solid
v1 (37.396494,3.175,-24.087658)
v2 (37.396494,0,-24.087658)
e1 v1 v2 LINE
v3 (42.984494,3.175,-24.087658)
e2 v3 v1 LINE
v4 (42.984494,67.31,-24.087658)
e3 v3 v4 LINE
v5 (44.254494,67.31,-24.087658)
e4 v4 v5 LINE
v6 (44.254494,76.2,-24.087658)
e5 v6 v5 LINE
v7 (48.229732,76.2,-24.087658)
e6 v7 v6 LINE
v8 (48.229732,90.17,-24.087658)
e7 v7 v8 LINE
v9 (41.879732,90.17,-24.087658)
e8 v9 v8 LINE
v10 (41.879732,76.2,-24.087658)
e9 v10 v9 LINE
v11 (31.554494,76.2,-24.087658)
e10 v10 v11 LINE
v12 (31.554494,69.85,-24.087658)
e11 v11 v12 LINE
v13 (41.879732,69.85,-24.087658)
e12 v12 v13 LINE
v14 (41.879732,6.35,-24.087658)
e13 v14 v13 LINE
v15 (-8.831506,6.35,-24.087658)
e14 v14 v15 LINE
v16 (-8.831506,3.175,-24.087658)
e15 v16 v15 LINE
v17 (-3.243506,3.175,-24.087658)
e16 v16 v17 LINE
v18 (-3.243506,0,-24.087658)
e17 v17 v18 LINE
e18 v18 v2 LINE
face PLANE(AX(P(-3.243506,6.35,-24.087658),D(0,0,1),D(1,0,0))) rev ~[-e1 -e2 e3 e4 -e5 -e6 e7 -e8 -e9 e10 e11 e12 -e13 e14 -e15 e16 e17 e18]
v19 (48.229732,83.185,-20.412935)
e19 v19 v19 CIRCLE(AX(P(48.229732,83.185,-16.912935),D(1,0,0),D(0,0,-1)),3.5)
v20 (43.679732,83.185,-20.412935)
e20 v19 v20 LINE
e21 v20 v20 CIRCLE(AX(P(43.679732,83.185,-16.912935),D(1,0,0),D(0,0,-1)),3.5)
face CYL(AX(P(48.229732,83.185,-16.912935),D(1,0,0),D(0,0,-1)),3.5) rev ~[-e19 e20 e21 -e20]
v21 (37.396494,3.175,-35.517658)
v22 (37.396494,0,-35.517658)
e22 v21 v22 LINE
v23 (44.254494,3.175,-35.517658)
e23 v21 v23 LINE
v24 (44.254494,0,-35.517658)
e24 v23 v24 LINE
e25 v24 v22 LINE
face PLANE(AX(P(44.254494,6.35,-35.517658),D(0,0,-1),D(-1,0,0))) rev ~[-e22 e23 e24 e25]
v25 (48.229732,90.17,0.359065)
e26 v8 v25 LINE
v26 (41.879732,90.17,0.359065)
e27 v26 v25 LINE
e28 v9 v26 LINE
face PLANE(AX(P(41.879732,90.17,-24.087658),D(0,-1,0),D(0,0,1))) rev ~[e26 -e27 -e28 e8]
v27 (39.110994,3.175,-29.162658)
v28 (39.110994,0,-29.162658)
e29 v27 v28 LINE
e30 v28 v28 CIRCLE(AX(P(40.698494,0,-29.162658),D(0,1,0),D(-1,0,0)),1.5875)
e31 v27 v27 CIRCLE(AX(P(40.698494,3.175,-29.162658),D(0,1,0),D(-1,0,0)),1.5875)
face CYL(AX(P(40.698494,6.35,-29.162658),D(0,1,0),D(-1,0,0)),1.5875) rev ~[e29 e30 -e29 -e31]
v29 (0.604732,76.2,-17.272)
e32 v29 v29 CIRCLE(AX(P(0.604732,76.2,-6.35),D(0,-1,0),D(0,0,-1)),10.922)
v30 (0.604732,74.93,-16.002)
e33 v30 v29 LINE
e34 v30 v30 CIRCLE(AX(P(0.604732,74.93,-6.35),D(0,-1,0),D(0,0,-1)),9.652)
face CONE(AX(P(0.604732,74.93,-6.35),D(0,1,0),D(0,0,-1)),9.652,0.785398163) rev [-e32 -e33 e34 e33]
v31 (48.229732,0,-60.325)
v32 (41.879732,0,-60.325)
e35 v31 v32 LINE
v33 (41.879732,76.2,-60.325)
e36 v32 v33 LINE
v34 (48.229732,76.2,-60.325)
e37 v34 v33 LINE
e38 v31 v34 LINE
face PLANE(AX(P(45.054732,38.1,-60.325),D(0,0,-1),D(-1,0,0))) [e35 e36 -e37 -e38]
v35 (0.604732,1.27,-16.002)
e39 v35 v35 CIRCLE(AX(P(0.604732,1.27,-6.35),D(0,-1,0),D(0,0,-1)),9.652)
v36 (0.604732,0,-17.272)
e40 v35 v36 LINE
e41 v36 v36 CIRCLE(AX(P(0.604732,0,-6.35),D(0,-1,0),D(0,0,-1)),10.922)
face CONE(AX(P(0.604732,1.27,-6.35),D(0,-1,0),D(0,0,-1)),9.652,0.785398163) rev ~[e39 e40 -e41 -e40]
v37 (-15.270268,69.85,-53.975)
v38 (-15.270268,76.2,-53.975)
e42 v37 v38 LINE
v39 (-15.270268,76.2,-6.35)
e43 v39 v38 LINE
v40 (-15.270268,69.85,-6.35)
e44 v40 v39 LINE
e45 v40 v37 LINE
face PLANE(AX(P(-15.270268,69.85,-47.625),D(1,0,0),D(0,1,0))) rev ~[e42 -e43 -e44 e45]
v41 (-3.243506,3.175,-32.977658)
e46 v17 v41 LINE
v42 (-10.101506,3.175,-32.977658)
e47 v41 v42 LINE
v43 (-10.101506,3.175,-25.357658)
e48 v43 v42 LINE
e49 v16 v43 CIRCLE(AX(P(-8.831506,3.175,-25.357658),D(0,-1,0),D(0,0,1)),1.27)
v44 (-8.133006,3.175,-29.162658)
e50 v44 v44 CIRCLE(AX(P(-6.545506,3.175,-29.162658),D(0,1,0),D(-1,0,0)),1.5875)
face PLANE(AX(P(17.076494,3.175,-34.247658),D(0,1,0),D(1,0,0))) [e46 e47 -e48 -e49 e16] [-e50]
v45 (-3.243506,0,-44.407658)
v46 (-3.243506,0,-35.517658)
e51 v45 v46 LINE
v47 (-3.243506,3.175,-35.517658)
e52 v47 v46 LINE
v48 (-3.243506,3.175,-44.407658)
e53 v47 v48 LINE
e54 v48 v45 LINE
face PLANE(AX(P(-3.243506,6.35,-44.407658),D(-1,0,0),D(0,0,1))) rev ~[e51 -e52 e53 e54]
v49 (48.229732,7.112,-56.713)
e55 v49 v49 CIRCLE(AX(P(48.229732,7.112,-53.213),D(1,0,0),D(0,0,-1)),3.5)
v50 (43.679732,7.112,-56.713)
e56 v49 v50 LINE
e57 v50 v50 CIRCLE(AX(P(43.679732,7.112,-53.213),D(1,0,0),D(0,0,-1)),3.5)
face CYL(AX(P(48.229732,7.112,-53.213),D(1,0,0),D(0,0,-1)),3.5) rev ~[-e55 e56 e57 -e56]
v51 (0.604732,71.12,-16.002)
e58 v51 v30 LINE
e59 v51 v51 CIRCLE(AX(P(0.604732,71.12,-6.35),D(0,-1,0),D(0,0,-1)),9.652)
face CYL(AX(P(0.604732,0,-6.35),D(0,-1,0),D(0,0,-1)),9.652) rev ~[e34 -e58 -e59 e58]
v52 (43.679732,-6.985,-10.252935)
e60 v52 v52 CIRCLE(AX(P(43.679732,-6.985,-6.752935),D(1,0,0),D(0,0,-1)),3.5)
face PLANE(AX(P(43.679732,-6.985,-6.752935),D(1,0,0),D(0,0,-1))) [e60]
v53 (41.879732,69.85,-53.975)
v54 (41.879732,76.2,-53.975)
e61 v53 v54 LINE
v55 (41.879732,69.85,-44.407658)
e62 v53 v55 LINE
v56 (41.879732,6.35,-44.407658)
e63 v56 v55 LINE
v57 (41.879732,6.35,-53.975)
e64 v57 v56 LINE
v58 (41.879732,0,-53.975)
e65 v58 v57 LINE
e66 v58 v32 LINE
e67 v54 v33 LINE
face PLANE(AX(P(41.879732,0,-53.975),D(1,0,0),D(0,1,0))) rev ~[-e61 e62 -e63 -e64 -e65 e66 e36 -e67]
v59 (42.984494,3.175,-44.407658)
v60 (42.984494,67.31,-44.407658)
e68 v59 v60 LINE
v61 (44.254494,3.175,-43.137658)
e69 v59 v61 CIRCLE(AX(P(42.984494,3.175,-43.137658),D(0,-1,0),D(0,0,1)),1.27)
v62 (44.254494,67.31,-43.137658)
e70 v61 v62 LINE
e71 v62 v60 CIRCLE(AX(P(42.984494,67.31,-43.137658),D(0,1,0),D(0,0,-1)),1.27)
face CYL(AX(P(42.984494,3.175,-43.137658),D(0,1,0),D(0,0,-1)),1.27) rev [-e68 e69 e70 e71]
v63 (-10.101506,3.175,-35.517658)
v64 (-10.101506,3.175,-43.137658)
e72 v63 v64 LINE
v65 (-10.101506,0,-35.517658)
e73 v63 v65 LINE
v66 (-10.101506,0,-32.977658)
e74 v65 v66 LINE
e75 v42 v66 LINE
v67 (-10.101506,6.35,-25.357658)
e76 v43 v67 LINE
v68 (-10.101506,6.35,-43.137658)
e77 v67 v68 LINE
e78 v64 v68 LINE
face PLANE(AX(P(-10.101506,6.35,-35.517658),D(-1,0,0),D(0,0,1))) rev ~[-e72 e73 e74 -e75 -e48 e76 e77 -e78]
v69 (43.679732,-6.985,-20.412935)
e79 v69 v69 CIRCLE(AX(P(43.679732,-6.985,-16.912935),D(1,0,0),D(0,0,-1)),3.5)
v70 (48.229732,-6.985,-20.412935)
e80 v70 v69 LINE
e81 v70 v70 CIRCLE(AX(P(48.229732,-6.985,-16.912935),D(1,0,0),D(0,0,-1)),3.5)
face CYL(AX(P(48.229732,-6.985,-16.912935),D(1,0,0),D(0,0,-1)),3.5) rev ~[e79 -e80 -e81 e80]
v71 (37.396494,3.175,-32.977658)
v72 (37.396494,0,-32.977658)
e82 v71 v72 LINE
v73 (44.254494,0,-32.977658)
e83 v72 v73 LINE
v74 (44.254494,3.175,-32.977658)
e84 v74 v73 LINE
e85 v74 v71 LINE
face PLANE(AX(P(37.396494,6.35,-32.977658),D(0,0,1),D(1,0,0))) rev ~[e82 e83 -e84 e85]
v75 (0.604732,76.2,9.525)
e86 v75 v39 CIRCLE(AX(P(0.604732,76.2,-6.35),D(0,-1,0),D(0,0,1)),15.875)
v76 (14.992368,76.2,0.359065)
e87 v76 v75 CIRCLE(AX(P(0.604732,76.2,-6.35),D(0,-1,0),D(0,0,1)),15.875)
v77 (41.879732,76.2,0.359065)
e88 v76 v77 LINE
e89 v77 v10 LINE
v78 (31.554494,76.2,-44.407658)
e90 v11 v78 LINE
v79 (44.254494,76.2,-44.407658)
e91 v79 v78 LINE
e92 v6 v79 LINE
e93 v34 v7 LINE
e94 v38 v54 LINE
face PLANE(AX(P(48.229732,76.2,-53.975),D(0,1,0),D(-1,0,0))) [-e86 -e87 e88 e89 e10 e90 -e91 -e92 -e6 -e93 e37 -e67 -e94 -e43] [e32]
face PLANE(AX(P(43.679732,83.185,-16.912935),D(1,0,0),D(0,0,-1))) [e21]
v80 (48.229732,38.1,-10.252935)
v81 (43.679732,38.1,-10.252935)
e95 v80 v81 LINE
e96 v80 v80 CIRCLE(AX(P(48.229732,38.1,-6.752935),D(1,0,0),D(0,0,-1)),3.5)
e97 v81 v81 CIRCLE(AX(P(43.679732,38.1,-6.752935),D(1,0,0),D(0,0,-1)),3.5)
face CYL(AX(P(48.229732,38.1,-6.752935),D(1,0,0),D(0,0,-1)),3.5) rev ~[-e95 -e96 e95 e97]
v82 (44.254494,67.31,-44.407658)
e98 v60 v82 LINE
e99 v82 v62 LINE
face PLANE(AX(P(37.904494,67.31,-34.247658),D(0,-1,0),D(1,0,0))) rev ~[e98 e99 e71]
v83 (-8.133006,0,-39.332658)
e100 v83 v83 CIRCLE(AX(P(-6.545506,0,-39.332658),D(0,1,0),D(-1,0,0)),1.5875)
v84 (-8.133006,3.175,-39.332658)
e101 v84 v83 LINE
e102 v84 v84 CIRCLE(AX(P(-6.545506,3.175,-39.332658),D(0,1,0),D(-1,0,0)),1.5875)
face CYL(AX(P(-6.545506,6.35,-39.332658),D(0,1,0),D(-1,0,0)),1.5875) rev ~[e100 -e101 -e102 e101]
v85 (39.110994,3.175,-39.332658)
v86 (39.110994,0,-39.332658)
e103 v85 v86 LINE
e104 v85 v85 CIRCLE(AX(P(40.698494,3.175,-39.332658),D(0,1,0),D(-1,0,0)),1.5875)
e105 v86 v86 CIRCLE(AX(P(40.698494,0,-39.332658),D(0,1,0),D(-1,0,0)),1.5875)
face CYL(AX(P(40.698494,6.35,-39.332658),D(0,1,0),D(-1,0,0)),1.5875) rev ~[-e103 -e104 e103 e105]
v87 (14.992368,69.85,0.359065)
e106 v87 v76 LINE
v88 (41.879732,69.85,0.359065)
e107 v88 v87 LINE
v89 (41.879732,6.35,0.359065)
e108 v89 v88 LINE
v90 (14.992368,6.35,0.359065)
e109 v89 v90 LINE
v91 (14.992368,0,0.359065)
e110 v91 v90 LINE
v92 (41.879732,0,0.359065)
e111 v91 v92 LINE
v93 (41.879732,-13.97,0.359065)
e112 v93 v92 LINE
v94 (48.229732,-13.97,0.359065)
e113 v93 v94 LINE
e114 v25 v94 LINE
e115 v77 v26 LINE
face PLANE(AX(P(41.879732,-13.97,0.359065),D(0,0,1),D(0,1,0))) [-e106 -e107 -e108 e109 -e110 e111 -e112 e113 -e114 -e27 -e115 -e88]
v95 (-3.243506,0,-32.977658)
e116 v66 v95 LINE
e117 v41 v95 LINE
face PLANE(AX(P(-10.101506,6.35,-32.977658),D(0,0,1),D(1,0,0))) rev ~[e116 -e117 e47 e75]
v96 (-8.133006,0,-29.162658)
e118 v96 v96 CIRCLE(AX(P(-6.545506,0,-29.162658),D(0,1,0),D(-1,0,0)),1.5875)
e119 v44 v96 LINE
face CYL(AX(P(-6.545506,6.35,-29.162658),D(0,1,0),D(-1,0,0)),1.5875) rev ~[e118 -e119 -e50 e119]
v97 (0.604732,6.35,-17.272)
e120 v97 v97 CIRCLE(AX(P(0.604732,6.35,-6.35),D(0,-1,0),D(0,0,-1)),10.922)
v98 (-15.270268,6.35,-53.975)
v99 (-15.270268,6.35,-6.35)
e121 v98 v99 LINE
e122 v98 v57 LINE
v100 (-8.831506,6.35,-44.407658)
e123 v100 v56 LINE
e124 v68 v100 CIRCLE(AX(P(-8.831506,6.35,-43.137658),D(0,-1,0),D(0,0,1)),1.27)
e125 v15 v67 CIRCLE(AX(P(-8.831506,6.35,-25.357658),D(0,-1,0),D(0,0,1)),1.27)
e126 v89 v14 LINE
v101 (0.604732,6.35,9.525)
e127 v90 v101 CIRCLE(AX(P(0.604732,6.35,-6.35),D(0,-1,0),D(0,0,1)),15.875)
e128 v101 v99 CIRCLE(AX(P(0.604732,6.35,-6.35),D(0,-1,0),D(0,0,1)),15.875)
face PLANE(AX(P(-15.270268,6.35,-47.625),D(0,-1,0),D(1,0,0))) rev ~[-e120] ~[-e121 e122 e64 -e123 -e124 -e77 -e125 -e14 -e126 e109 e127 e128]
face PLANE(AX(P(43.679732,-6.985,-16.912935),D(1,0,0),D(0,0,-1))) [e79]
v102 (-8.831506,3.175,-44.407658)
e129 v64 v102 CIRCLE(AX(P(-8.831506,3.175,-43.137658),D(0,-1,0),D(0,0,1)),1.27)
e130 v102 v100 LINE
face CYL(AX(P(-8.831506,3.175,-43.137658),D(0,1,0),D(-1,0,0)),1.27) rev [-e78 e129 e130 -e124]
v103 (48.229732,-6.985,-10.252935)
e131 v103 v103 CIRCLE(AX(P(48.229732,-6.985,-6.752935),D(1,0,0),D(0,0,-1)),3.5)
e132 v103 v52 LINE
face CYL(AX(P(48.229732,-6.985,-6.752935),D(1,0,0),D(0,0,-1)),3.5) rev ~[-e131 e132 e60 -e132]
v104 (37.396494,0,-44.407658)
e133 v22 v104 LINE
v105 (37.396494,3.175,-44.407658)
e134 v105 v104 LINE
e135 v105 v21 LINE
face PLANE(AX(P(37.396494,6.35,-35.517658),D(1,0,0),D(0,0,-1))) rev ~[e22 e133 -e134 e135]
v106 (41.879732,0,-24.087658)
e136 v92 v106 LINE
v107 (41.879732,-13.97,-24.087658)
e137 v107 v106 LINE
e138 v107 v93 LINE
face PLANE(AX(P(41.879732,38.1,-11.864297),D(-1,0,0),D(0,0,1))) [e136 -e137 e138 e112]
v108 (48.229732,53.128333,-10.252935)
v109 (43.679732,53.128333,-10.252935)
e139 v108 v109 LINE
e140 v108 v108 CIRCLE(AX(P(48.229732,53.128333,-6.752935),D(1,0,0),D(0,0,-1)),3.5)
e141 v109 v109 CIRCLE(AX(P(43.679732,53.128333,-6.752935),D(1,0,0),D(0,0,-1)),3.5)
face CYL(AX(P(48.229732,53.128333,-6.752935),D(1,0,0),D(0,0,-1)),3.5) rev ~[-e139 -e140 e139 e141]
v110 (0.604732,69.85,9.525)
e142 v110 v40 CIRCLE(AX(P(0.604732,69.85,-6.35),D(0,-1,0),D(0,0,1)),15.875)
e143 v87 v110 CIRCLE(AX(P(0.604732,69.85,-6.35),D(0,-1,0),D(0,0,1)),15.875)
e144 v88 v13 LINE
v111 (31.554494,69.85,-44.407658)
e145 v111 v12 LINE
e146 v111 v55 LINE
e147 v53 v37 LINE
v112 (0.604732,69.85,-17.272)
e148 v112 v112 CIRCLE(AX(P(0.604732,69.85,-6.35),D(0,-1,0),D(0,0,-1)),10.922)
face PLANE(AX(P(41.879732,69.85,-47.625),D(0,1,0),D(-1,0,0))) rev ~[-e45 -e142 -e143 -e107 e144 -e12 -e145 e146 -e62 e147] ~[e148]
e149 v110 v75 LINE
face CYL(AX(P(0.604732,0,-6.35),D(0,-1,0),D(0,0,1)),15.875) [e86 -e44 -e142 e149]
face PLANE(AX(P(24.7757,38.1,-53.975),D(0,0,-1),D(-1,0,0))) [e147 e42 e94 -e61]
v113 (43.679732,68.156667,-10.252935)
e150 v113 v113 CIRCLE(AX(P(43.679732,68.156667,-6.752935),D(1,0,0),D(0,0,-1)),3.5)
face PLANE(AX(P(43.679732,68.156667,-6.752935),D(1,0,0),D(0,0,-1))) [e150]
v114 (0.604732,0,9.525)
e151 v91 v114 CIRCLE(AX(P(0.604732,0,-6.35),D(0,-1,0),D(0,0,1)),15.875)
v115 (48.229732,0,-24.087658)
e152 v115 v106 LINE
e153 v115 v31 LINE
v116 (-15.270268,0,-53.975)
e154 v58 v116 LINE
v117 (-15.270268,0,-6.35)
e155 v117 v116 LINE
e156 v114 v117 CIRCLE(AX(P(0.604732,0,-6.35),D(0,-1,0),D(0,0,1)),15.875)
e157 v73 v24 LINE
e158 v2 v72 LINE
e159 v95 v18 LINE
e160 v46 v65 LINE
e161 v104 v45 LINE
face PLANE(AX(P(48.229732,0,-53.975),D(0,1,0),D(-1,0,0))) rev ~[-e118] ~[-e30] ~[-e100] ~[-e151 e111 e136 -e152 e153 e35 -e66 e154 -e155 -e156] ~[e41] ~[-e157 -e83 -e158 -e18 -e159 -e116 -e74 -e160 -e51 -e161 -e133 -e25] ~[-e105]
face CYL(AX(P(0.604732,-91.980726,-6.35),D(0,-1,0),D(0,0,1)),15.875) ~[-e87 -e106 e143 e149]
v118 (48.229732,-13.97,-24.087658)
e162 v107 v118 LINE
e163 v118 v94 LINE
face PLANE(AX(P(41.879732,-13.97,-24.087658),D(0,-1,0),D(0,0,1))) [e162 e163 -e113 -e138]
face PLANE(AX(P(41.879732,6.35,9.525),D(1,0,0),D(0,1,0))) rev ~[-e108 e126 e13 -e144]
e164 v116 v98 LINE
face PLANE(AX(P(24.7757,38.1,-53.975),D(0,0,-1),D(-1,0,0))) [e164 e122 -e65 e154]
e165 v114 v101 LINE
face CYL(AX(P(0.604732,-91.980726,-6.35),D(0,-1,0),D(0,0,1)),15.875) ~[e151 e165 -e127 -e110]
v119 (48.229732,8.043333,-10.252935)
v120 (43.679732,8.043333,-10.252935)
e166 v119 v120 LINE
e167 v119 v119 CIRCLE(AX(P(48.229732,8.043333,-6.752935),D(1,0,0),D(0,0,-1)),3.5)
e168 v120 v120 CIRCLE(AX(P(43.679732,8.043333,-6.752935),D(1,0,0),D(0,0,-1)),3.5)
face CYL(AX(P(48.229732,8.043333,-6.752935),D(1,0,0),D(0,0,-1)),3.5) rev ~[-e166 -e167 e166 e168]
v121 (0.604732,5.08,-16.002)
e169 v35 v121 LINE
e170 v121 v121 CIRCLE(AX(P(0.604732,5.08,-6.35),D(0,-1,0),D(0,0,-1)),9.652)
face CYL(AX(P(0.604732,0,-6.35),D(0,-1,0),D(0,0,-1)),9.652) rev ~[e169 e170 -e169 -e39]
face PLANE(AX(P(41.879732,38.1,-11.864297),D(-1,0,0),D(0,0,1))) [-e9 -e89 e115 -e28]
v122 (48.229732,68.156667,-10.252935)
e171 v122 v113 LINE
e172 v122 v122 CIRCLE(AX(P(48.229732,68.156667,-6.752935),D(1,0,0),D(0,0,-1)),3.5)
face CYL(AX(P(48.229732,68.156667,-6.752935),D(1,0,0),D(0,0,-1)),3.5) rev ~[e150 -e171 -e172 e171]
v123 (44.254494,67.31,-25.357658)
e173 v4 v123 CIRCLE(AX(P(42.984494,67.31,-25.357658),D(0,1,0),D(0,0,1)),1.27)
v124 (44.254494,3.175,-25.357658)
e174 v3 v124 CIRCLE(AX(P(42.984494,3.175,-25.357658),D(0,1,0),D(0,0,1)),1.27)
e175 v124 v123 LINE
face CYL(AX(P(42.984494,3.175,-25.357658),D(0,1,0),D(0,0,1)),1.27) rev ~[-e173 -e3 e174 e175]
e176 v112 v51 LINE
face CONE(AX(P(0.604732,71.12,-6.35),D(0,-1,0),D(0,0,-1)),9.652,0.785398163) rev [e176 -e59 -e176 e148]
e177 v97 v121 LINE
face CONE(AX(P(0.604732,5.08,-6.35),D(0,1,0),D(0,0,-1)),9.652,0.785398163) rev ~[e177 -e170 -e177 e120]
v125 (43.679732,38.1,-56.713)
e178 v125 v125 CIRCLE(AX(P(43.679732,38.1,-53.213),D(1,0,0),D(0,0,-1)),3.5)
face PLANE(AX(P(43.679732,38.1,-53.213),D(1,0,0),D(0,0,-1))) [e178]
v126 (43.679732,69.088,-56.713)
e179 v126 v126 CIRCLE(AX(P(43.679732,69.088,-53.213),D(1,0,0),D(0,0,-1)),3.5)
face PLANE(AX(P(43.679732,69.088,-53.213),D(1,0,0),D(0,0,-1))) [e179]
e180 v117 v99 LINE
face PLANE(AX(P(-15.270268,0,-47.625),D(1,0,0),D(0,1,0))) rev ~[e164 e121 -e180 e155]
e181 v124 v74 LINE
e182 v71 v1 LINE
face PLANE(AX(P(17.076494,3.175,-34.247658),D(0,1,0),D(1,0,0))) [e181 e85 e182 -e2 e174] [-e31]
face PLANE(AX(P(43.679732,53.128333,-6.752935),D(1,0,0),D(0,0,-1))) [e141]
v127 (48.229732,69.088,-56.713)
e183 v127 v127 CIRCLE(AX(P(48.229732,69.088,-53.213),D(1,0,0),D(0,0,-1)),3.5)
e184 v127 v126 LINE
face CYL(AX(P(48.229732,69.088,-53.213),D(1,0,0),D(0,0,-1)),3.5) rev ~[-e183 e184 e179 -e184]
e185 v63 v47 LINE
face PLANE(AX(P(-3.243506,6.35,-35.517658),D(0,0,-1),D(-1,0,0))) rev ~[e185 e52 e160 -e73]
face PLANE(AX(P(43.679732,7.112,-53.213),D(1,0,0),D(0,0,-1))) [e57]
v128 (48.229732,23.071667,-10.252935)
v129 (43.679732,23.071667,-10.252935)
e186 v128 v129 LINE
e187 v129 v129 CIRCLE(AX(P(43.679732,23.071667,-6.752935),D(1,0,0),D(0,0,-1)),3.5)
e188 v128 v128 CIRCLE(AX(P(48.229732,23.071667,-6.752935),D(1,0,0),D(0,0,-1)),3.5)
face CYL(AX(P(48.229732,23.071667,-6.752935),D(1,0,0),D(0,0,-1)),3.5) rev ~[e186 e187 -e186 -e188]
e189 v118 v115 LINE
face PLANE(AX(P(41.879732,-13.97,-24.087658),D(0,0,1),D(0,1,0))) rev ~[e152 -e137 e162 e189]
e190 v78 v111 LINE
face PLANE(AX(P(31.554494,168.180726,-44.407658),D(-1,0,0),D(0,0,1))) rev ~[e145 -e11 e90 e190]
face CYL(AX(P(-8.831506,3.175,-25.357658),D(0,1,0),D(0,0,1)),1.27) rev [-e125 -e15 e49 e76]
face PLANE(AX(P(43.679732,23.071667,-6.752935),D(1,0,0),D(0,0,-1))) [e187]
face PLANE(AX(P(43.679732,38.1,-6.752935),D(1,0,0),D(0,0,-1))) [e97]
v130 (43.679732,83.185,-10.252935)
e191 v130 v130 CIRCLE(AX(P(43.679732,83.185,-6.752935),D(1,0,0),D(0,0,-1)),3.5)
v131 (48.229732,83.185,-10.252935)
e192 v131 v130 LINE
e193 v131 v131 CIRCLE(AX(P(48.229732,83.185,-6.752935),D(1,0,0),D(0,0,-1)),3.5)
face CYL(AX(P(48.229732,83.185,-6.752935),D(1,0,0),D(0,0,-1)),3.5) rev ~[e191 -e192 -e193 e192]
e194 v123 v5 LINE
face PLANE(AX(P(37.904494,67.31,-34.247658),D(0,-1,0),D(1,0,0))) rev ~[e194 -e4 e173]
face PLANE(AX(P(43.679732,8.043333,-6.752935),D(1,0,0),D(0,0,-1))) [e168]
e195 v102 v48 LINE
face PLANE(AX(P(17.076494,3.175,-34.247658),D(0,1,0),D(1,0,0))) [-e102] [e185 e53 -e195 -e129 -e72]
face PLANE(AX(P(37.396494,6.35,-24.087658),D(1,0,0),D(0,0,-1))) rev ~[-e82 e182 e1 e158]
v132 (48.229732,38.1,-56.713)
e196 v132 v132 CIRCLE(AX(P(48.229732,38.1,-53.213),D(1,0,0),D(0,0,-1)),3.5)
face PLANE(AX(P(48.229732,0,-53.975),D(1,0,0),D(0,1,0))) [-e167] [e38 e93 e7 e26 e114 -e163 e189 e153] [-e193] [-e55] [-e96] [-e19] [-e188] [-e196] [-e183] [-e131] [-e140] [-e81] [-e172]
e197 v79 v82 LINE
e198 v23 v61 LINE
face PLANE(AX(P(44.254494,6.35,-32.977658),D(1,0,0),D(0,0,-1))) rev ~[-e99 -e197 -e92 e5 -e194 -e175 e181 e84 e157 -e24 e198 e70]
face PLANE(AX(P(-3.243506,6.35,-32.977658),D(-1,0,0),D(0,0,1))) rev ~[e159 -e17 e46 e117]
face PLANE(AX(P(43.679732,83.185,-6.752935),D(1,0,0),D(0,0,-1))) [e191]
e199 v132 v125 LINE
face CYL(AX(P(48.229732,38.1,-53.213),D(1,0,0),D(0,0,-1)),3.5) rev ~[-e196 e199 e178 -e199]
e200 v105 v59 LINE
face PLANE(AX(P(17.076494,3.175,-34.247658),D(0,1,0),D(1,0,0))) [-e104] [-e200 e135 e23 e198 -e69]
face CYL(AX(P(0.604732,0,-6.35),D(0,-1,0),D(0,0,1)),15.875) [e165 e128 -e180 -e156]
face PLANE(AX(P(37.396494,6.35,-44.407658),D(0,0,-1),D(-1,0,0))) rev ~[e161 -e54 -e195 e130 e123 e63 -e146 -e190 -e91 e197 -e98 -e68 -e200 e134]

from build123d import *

# Parameters (mm, degrees)
MASS_DEPTH              = 76.2
SKETCH5_R               = 9.652
BEARING_HOLE_DEPTH      = 102.983761741
SKETCH6_W               = 63.5
SKETCH6_H               = 63.5
HOLLOW_DEPTH            = 107.683809823
SKETCH2_R               = 1.5875
SERVO_MOUNT_DEPTH       = 6.35
SERVO_INSET_DEPTH       = 63.5
SERVO_INSET_DEPTH_BACK  = 3.175
SKETCH7_W               = 54.356
SKETCH7_H               = 20.32
BEARING_CHAMFER_SIZE    = 1.27
MINOR_FILLET_R          = 1.27
CUT_EXTRUDE1_DEPTH      = 98.330725666
CUT_EXTRUDE1_DEPTH_BACK = 98.330725666
CUT_EXTRUDE3_DEPTH      = 2.54
CUT_EXTRUDE3_DEPTH_BACK = 98.330725666
SKETCH12_W              = 12.7
SKETCH12_H              = 20.32
SKETCH13_W              = 24.446723308
SKETCH13_H              = 104.14
BOSS_EXTRUDE3_DEPTH     = 6.35
BOSS_EXTRUDE4_DEPTH     = 6.35
SKETCH17_W              = 6.35
SKETCH17_H              = 76.2
BOSS_EXTRUDE5_DEPTH     = 6.35
SKETCH18_R              = 3.5
CUT_EXTRUDE4_DEPTH      = 4.55


with BuildPart() as part:
    # Sketch1 → Mass (new body)
    with BuildSketch(Plane(origin=(0, 0, 0), x_dir=(1, 0, 0), z_dir=(0, 1, 0))):
        with BuildLine():
            Line((-15.270268156, 47.625), (48.229731844, 47.625))
            Line((48.229731844, 47.625), (48.229731844, -9.525))
            Line((48.229731844, -9.525), (0.604731844, -9.525))
            ThreePointArc((0.604731844, -9.525), (-10.620588307, -4.875320151), (-15.270268156, 6.35))
            Line((-15.270268156, 6.35), (-15.270268156, 47.625))
        make_face()
    extrude(amount=MASS_DEPTH)

    # Sketch5 → Bearing Hole (cut, through all)
    with BuildSketch(Plane.XZ):
        with Locations(Location((0.604731844, -6.35, 0), (0, 0, 270))):
            Circle(SKETCH5_R)
    extrude(amount=-BEARING_HOLE_DEPTH, mode=Mode.SUBTRACT)

    # Sketch6 → Hollow (cut, through all)
    with BuildSketch(Plane(origin=(32.780463142, 0, 9.525), x_dir=(-1, 0, 0), z_dir=(0, 0, -1))):
        with Locations((22.650731298, 38.1)):
            Rectangle(SKETCH6_W, SKETCH6_H)
    extrude(amount=HOLLOW_DEPTH, mode=Mode.SUBTRACT)

    # Sketch2 → Servo Mount (cut)
    with BuildSketch(Plane(origin=(0, 6.35, 0), x_dir=(1, 0, 0), z_dir=(0, 1, 0))):
        with Locations(Location((-6.545506188, 39.332658403, 0), (0, 0, 180))):
            Circle(SKETCH2_R)
        with Locations(Location((-6.545506188, 29.162658403, 0), (0, 0, 180))):
            Circle(SKETCH2_R)
        with Locations(Location((40.698493812, 39.332658403, 0), (0, 0, 180))):
            Circle(SKETCH2_R)
        with Locations(Location((40.698493812, 29.162658403, 0), (0, 0, 180))):
            Circle(SKETCH2_R)
        Polygon((-3.243506188, 24.087658403), (37.396493812, 24.087658403), (37.396493812, 32.977658403), (44.254493812, 32.977658403), (44.254493812, 35.517658403), (37.396493812, 35.517658403), (37.396493812, 44.407658403), (-3.243506188, 44.407658403), (-3.243506188, 35.517658403), (-10.101506188, 35.517658403), (-10.101506188, 32.977658403), (-3.243506188, 32.977658403), align=None)
    extrude(amount=-SERVO_MOUNT_DEPTH, mode=Mode.SUBTRACT)

    # Sketch7 → Servo Inset (cut, two sides: drawn at the far end of the back side and taken through both)
    with BuildSketch(Plane(origin=(0, 6.35, 0), x_dir=(1, 0, 0), z_dir=(0, 1, 0)).offset(-SERVO_INSET_DEPTH_BACK)):
        with Locations((17.076493812, 34.247658403)):
            Rectangle(SKETCH7_W, SKETCH7_H)
    extrude(amount=SERVO_INSET_DEPTH + SERVO_INSET_DEPTH_BACK, mode=Mode.SUBTRACT)

    # Bearing Chamfer
    bearing_chamfer_edges = [part.edges().sort_by_distance(p)[0] for p in [
        (0.604731844, 76.2, 3.302),
        (0.604731844, 0, 3.302),
        (0.604731844, 69.85, 3.302),
        (0.604731844, 6.35, 3.302),
    ]]
    chamfer(bearing_chamfer_edges, length=BEARING_CHAMFER_SIZE)

    # Minor fillet
    minor_fillet_edges = [part.edges().sort_by_distance(p)[0] for p in [
        (44.254493812, 36.5125, -44.407658403),
        (44.254493812, 69.85, -34.247658403),
        (44.254493812, 36.5125, -24.087658403),
        (-10.101506188, 4.7625, -24.087658403),
        (-10.101506188, 4.7625, -44.407658403),
    ]]
    fillet(minor_fillet_edges, radius=MINOR_FILLET_R)

    # Sketch9 → Cut-Extrude1 (cut, two sides: drawn at the far end of the back side and taken through both)
    with BuildSketch(Plane(origin=(0, 6.35, 0), x_dir=(1, 0, 0), z_dir=(0, 1, 0)).offset(-CUT_EXTRUDE1_DEPTH_BACK)):
        with BuildLine():
            Line((14.992367963, -0.359064905), (48.229731844, -0.359064905))
            Line((48.229731844, -0.359064905), (48.229731844, -9.525))
            Line((48.229731844, -9.525), (0.604731844, -9.525))
            ThreePointArc((0.604731844, -9.525), (9.134363127, -7.038839202), (14.992367963, -0.359064905))
        make_face()
    extrude(amount=CUT_EXTRUDE1_DEPTH + CUT_EXTRUDE1_DEPTH_BACK, mode=Mode.SUBTRACT)

    # Sketch12 → Cut-Extrude3 (cut, two sides: drawn at the far end of the back side and taken through both)
    with BuildSketch(Plane.XZ.offset(-69.85).offset(-CUT_EXTRUDE3_DEPTH_BACK)):
        with Locations((37.904493812, -34.247658403)):
            Rectangle(SKETCH12_W, SKETCH12_H)
    extrude(amount=CUT_EXTRUDE3_DEPTH + CUT_EXTRUDE3_DEPTH_BACK, mode=Mode.SUBTRACT)

    # Sketch13 → Boss-Extrude3 (add)
    with BuildSketch(Plane.ZY.offset(-41.879731844)):
        with Locations((-11.864296749, 38.1)):
            Rectangle(SKETCH13_W, SKETCH13_H)
    extrude(amount=-BOSS_EXTRUDE3_DEPTH)

    # Sketch16 → Boss-Extrude4 (add)
    with BuildSketch(Plane(origin=(0, 0, -47.625), x_dir=(-1, 0, 0), z_dir=(0, 0, -1))):
        Polygon((-41.879731844, 69.85), (15.270268156, 69.85), (15.270268156, 76.2), (-48.229731844, 76.2), (-48.229731844, 0), (15.270268156, 0), (15.270268156, 6.35), (-41.879731844, 6.35), align=None)
    extrude(amount=BOSS_EXTRUDE4_DEPTH)

    # Sketch17 → Boss-Extrude5 (add)
    with BuildSketch(Plane(origin=(0, 0, -53.975), x_dir=(-1, 0, 0), z_dir=(0, 0, -1))):
        with Locations((-45.054731844, 38.1)):
            Rectangle(SKETCH17_W, SKETCH17_H)
    extrude(amount=BOSS_EXTRUDE5_DEPTH)

    # Sketch18 → Cut-Extrude4 (cut)
    with BuildSketch(Plane(origin=(48.229731844, 0, 0), x_dir=(0, 0, -1), z_dir=(1, 0, 0))):
        with Locations((16.912935095, -6.985)):
            Circle(SKETCH18_R)
        with Locations((6.752935095, -6.985)):
            Circle(SKETCH18_R)
        with Locations((6.752935095, 83.185)):
            Circle(SKETCH18_R)
        with Locations((16.912935095, 83.185)):
            Circle(SKETCH18_R)
        with Locations((53.213, 69.088)):
            Circle(SKETCH18_R)
        with Locations((53.213, 7.112)):
            Circle(SKETCH18_R)
        with Locations((6.752935095, 8.043333333)):
            Circle(SKETCH18_R)
        with Locations((6.752935095, 23.071666667)):
            Circle(SKETCH18_R)
        with Locations((6.752935095, 68.156666667)):
            Circle(SKETCH18_R)
        with Locations((6.752935095, 53.128333333)):
            Circle(SKETCH18_R)
        with Locations((53.213, 38.1)):
            Circle(SKETCH18_R)
        with Locations((6.752935095, 38.1)):
            Circle(SKETCH18_R)
    extrude(amount=-CUT_EXTRUDE4_DEPTH, mode=Mode.SUBTRACT)


solid = part.part
